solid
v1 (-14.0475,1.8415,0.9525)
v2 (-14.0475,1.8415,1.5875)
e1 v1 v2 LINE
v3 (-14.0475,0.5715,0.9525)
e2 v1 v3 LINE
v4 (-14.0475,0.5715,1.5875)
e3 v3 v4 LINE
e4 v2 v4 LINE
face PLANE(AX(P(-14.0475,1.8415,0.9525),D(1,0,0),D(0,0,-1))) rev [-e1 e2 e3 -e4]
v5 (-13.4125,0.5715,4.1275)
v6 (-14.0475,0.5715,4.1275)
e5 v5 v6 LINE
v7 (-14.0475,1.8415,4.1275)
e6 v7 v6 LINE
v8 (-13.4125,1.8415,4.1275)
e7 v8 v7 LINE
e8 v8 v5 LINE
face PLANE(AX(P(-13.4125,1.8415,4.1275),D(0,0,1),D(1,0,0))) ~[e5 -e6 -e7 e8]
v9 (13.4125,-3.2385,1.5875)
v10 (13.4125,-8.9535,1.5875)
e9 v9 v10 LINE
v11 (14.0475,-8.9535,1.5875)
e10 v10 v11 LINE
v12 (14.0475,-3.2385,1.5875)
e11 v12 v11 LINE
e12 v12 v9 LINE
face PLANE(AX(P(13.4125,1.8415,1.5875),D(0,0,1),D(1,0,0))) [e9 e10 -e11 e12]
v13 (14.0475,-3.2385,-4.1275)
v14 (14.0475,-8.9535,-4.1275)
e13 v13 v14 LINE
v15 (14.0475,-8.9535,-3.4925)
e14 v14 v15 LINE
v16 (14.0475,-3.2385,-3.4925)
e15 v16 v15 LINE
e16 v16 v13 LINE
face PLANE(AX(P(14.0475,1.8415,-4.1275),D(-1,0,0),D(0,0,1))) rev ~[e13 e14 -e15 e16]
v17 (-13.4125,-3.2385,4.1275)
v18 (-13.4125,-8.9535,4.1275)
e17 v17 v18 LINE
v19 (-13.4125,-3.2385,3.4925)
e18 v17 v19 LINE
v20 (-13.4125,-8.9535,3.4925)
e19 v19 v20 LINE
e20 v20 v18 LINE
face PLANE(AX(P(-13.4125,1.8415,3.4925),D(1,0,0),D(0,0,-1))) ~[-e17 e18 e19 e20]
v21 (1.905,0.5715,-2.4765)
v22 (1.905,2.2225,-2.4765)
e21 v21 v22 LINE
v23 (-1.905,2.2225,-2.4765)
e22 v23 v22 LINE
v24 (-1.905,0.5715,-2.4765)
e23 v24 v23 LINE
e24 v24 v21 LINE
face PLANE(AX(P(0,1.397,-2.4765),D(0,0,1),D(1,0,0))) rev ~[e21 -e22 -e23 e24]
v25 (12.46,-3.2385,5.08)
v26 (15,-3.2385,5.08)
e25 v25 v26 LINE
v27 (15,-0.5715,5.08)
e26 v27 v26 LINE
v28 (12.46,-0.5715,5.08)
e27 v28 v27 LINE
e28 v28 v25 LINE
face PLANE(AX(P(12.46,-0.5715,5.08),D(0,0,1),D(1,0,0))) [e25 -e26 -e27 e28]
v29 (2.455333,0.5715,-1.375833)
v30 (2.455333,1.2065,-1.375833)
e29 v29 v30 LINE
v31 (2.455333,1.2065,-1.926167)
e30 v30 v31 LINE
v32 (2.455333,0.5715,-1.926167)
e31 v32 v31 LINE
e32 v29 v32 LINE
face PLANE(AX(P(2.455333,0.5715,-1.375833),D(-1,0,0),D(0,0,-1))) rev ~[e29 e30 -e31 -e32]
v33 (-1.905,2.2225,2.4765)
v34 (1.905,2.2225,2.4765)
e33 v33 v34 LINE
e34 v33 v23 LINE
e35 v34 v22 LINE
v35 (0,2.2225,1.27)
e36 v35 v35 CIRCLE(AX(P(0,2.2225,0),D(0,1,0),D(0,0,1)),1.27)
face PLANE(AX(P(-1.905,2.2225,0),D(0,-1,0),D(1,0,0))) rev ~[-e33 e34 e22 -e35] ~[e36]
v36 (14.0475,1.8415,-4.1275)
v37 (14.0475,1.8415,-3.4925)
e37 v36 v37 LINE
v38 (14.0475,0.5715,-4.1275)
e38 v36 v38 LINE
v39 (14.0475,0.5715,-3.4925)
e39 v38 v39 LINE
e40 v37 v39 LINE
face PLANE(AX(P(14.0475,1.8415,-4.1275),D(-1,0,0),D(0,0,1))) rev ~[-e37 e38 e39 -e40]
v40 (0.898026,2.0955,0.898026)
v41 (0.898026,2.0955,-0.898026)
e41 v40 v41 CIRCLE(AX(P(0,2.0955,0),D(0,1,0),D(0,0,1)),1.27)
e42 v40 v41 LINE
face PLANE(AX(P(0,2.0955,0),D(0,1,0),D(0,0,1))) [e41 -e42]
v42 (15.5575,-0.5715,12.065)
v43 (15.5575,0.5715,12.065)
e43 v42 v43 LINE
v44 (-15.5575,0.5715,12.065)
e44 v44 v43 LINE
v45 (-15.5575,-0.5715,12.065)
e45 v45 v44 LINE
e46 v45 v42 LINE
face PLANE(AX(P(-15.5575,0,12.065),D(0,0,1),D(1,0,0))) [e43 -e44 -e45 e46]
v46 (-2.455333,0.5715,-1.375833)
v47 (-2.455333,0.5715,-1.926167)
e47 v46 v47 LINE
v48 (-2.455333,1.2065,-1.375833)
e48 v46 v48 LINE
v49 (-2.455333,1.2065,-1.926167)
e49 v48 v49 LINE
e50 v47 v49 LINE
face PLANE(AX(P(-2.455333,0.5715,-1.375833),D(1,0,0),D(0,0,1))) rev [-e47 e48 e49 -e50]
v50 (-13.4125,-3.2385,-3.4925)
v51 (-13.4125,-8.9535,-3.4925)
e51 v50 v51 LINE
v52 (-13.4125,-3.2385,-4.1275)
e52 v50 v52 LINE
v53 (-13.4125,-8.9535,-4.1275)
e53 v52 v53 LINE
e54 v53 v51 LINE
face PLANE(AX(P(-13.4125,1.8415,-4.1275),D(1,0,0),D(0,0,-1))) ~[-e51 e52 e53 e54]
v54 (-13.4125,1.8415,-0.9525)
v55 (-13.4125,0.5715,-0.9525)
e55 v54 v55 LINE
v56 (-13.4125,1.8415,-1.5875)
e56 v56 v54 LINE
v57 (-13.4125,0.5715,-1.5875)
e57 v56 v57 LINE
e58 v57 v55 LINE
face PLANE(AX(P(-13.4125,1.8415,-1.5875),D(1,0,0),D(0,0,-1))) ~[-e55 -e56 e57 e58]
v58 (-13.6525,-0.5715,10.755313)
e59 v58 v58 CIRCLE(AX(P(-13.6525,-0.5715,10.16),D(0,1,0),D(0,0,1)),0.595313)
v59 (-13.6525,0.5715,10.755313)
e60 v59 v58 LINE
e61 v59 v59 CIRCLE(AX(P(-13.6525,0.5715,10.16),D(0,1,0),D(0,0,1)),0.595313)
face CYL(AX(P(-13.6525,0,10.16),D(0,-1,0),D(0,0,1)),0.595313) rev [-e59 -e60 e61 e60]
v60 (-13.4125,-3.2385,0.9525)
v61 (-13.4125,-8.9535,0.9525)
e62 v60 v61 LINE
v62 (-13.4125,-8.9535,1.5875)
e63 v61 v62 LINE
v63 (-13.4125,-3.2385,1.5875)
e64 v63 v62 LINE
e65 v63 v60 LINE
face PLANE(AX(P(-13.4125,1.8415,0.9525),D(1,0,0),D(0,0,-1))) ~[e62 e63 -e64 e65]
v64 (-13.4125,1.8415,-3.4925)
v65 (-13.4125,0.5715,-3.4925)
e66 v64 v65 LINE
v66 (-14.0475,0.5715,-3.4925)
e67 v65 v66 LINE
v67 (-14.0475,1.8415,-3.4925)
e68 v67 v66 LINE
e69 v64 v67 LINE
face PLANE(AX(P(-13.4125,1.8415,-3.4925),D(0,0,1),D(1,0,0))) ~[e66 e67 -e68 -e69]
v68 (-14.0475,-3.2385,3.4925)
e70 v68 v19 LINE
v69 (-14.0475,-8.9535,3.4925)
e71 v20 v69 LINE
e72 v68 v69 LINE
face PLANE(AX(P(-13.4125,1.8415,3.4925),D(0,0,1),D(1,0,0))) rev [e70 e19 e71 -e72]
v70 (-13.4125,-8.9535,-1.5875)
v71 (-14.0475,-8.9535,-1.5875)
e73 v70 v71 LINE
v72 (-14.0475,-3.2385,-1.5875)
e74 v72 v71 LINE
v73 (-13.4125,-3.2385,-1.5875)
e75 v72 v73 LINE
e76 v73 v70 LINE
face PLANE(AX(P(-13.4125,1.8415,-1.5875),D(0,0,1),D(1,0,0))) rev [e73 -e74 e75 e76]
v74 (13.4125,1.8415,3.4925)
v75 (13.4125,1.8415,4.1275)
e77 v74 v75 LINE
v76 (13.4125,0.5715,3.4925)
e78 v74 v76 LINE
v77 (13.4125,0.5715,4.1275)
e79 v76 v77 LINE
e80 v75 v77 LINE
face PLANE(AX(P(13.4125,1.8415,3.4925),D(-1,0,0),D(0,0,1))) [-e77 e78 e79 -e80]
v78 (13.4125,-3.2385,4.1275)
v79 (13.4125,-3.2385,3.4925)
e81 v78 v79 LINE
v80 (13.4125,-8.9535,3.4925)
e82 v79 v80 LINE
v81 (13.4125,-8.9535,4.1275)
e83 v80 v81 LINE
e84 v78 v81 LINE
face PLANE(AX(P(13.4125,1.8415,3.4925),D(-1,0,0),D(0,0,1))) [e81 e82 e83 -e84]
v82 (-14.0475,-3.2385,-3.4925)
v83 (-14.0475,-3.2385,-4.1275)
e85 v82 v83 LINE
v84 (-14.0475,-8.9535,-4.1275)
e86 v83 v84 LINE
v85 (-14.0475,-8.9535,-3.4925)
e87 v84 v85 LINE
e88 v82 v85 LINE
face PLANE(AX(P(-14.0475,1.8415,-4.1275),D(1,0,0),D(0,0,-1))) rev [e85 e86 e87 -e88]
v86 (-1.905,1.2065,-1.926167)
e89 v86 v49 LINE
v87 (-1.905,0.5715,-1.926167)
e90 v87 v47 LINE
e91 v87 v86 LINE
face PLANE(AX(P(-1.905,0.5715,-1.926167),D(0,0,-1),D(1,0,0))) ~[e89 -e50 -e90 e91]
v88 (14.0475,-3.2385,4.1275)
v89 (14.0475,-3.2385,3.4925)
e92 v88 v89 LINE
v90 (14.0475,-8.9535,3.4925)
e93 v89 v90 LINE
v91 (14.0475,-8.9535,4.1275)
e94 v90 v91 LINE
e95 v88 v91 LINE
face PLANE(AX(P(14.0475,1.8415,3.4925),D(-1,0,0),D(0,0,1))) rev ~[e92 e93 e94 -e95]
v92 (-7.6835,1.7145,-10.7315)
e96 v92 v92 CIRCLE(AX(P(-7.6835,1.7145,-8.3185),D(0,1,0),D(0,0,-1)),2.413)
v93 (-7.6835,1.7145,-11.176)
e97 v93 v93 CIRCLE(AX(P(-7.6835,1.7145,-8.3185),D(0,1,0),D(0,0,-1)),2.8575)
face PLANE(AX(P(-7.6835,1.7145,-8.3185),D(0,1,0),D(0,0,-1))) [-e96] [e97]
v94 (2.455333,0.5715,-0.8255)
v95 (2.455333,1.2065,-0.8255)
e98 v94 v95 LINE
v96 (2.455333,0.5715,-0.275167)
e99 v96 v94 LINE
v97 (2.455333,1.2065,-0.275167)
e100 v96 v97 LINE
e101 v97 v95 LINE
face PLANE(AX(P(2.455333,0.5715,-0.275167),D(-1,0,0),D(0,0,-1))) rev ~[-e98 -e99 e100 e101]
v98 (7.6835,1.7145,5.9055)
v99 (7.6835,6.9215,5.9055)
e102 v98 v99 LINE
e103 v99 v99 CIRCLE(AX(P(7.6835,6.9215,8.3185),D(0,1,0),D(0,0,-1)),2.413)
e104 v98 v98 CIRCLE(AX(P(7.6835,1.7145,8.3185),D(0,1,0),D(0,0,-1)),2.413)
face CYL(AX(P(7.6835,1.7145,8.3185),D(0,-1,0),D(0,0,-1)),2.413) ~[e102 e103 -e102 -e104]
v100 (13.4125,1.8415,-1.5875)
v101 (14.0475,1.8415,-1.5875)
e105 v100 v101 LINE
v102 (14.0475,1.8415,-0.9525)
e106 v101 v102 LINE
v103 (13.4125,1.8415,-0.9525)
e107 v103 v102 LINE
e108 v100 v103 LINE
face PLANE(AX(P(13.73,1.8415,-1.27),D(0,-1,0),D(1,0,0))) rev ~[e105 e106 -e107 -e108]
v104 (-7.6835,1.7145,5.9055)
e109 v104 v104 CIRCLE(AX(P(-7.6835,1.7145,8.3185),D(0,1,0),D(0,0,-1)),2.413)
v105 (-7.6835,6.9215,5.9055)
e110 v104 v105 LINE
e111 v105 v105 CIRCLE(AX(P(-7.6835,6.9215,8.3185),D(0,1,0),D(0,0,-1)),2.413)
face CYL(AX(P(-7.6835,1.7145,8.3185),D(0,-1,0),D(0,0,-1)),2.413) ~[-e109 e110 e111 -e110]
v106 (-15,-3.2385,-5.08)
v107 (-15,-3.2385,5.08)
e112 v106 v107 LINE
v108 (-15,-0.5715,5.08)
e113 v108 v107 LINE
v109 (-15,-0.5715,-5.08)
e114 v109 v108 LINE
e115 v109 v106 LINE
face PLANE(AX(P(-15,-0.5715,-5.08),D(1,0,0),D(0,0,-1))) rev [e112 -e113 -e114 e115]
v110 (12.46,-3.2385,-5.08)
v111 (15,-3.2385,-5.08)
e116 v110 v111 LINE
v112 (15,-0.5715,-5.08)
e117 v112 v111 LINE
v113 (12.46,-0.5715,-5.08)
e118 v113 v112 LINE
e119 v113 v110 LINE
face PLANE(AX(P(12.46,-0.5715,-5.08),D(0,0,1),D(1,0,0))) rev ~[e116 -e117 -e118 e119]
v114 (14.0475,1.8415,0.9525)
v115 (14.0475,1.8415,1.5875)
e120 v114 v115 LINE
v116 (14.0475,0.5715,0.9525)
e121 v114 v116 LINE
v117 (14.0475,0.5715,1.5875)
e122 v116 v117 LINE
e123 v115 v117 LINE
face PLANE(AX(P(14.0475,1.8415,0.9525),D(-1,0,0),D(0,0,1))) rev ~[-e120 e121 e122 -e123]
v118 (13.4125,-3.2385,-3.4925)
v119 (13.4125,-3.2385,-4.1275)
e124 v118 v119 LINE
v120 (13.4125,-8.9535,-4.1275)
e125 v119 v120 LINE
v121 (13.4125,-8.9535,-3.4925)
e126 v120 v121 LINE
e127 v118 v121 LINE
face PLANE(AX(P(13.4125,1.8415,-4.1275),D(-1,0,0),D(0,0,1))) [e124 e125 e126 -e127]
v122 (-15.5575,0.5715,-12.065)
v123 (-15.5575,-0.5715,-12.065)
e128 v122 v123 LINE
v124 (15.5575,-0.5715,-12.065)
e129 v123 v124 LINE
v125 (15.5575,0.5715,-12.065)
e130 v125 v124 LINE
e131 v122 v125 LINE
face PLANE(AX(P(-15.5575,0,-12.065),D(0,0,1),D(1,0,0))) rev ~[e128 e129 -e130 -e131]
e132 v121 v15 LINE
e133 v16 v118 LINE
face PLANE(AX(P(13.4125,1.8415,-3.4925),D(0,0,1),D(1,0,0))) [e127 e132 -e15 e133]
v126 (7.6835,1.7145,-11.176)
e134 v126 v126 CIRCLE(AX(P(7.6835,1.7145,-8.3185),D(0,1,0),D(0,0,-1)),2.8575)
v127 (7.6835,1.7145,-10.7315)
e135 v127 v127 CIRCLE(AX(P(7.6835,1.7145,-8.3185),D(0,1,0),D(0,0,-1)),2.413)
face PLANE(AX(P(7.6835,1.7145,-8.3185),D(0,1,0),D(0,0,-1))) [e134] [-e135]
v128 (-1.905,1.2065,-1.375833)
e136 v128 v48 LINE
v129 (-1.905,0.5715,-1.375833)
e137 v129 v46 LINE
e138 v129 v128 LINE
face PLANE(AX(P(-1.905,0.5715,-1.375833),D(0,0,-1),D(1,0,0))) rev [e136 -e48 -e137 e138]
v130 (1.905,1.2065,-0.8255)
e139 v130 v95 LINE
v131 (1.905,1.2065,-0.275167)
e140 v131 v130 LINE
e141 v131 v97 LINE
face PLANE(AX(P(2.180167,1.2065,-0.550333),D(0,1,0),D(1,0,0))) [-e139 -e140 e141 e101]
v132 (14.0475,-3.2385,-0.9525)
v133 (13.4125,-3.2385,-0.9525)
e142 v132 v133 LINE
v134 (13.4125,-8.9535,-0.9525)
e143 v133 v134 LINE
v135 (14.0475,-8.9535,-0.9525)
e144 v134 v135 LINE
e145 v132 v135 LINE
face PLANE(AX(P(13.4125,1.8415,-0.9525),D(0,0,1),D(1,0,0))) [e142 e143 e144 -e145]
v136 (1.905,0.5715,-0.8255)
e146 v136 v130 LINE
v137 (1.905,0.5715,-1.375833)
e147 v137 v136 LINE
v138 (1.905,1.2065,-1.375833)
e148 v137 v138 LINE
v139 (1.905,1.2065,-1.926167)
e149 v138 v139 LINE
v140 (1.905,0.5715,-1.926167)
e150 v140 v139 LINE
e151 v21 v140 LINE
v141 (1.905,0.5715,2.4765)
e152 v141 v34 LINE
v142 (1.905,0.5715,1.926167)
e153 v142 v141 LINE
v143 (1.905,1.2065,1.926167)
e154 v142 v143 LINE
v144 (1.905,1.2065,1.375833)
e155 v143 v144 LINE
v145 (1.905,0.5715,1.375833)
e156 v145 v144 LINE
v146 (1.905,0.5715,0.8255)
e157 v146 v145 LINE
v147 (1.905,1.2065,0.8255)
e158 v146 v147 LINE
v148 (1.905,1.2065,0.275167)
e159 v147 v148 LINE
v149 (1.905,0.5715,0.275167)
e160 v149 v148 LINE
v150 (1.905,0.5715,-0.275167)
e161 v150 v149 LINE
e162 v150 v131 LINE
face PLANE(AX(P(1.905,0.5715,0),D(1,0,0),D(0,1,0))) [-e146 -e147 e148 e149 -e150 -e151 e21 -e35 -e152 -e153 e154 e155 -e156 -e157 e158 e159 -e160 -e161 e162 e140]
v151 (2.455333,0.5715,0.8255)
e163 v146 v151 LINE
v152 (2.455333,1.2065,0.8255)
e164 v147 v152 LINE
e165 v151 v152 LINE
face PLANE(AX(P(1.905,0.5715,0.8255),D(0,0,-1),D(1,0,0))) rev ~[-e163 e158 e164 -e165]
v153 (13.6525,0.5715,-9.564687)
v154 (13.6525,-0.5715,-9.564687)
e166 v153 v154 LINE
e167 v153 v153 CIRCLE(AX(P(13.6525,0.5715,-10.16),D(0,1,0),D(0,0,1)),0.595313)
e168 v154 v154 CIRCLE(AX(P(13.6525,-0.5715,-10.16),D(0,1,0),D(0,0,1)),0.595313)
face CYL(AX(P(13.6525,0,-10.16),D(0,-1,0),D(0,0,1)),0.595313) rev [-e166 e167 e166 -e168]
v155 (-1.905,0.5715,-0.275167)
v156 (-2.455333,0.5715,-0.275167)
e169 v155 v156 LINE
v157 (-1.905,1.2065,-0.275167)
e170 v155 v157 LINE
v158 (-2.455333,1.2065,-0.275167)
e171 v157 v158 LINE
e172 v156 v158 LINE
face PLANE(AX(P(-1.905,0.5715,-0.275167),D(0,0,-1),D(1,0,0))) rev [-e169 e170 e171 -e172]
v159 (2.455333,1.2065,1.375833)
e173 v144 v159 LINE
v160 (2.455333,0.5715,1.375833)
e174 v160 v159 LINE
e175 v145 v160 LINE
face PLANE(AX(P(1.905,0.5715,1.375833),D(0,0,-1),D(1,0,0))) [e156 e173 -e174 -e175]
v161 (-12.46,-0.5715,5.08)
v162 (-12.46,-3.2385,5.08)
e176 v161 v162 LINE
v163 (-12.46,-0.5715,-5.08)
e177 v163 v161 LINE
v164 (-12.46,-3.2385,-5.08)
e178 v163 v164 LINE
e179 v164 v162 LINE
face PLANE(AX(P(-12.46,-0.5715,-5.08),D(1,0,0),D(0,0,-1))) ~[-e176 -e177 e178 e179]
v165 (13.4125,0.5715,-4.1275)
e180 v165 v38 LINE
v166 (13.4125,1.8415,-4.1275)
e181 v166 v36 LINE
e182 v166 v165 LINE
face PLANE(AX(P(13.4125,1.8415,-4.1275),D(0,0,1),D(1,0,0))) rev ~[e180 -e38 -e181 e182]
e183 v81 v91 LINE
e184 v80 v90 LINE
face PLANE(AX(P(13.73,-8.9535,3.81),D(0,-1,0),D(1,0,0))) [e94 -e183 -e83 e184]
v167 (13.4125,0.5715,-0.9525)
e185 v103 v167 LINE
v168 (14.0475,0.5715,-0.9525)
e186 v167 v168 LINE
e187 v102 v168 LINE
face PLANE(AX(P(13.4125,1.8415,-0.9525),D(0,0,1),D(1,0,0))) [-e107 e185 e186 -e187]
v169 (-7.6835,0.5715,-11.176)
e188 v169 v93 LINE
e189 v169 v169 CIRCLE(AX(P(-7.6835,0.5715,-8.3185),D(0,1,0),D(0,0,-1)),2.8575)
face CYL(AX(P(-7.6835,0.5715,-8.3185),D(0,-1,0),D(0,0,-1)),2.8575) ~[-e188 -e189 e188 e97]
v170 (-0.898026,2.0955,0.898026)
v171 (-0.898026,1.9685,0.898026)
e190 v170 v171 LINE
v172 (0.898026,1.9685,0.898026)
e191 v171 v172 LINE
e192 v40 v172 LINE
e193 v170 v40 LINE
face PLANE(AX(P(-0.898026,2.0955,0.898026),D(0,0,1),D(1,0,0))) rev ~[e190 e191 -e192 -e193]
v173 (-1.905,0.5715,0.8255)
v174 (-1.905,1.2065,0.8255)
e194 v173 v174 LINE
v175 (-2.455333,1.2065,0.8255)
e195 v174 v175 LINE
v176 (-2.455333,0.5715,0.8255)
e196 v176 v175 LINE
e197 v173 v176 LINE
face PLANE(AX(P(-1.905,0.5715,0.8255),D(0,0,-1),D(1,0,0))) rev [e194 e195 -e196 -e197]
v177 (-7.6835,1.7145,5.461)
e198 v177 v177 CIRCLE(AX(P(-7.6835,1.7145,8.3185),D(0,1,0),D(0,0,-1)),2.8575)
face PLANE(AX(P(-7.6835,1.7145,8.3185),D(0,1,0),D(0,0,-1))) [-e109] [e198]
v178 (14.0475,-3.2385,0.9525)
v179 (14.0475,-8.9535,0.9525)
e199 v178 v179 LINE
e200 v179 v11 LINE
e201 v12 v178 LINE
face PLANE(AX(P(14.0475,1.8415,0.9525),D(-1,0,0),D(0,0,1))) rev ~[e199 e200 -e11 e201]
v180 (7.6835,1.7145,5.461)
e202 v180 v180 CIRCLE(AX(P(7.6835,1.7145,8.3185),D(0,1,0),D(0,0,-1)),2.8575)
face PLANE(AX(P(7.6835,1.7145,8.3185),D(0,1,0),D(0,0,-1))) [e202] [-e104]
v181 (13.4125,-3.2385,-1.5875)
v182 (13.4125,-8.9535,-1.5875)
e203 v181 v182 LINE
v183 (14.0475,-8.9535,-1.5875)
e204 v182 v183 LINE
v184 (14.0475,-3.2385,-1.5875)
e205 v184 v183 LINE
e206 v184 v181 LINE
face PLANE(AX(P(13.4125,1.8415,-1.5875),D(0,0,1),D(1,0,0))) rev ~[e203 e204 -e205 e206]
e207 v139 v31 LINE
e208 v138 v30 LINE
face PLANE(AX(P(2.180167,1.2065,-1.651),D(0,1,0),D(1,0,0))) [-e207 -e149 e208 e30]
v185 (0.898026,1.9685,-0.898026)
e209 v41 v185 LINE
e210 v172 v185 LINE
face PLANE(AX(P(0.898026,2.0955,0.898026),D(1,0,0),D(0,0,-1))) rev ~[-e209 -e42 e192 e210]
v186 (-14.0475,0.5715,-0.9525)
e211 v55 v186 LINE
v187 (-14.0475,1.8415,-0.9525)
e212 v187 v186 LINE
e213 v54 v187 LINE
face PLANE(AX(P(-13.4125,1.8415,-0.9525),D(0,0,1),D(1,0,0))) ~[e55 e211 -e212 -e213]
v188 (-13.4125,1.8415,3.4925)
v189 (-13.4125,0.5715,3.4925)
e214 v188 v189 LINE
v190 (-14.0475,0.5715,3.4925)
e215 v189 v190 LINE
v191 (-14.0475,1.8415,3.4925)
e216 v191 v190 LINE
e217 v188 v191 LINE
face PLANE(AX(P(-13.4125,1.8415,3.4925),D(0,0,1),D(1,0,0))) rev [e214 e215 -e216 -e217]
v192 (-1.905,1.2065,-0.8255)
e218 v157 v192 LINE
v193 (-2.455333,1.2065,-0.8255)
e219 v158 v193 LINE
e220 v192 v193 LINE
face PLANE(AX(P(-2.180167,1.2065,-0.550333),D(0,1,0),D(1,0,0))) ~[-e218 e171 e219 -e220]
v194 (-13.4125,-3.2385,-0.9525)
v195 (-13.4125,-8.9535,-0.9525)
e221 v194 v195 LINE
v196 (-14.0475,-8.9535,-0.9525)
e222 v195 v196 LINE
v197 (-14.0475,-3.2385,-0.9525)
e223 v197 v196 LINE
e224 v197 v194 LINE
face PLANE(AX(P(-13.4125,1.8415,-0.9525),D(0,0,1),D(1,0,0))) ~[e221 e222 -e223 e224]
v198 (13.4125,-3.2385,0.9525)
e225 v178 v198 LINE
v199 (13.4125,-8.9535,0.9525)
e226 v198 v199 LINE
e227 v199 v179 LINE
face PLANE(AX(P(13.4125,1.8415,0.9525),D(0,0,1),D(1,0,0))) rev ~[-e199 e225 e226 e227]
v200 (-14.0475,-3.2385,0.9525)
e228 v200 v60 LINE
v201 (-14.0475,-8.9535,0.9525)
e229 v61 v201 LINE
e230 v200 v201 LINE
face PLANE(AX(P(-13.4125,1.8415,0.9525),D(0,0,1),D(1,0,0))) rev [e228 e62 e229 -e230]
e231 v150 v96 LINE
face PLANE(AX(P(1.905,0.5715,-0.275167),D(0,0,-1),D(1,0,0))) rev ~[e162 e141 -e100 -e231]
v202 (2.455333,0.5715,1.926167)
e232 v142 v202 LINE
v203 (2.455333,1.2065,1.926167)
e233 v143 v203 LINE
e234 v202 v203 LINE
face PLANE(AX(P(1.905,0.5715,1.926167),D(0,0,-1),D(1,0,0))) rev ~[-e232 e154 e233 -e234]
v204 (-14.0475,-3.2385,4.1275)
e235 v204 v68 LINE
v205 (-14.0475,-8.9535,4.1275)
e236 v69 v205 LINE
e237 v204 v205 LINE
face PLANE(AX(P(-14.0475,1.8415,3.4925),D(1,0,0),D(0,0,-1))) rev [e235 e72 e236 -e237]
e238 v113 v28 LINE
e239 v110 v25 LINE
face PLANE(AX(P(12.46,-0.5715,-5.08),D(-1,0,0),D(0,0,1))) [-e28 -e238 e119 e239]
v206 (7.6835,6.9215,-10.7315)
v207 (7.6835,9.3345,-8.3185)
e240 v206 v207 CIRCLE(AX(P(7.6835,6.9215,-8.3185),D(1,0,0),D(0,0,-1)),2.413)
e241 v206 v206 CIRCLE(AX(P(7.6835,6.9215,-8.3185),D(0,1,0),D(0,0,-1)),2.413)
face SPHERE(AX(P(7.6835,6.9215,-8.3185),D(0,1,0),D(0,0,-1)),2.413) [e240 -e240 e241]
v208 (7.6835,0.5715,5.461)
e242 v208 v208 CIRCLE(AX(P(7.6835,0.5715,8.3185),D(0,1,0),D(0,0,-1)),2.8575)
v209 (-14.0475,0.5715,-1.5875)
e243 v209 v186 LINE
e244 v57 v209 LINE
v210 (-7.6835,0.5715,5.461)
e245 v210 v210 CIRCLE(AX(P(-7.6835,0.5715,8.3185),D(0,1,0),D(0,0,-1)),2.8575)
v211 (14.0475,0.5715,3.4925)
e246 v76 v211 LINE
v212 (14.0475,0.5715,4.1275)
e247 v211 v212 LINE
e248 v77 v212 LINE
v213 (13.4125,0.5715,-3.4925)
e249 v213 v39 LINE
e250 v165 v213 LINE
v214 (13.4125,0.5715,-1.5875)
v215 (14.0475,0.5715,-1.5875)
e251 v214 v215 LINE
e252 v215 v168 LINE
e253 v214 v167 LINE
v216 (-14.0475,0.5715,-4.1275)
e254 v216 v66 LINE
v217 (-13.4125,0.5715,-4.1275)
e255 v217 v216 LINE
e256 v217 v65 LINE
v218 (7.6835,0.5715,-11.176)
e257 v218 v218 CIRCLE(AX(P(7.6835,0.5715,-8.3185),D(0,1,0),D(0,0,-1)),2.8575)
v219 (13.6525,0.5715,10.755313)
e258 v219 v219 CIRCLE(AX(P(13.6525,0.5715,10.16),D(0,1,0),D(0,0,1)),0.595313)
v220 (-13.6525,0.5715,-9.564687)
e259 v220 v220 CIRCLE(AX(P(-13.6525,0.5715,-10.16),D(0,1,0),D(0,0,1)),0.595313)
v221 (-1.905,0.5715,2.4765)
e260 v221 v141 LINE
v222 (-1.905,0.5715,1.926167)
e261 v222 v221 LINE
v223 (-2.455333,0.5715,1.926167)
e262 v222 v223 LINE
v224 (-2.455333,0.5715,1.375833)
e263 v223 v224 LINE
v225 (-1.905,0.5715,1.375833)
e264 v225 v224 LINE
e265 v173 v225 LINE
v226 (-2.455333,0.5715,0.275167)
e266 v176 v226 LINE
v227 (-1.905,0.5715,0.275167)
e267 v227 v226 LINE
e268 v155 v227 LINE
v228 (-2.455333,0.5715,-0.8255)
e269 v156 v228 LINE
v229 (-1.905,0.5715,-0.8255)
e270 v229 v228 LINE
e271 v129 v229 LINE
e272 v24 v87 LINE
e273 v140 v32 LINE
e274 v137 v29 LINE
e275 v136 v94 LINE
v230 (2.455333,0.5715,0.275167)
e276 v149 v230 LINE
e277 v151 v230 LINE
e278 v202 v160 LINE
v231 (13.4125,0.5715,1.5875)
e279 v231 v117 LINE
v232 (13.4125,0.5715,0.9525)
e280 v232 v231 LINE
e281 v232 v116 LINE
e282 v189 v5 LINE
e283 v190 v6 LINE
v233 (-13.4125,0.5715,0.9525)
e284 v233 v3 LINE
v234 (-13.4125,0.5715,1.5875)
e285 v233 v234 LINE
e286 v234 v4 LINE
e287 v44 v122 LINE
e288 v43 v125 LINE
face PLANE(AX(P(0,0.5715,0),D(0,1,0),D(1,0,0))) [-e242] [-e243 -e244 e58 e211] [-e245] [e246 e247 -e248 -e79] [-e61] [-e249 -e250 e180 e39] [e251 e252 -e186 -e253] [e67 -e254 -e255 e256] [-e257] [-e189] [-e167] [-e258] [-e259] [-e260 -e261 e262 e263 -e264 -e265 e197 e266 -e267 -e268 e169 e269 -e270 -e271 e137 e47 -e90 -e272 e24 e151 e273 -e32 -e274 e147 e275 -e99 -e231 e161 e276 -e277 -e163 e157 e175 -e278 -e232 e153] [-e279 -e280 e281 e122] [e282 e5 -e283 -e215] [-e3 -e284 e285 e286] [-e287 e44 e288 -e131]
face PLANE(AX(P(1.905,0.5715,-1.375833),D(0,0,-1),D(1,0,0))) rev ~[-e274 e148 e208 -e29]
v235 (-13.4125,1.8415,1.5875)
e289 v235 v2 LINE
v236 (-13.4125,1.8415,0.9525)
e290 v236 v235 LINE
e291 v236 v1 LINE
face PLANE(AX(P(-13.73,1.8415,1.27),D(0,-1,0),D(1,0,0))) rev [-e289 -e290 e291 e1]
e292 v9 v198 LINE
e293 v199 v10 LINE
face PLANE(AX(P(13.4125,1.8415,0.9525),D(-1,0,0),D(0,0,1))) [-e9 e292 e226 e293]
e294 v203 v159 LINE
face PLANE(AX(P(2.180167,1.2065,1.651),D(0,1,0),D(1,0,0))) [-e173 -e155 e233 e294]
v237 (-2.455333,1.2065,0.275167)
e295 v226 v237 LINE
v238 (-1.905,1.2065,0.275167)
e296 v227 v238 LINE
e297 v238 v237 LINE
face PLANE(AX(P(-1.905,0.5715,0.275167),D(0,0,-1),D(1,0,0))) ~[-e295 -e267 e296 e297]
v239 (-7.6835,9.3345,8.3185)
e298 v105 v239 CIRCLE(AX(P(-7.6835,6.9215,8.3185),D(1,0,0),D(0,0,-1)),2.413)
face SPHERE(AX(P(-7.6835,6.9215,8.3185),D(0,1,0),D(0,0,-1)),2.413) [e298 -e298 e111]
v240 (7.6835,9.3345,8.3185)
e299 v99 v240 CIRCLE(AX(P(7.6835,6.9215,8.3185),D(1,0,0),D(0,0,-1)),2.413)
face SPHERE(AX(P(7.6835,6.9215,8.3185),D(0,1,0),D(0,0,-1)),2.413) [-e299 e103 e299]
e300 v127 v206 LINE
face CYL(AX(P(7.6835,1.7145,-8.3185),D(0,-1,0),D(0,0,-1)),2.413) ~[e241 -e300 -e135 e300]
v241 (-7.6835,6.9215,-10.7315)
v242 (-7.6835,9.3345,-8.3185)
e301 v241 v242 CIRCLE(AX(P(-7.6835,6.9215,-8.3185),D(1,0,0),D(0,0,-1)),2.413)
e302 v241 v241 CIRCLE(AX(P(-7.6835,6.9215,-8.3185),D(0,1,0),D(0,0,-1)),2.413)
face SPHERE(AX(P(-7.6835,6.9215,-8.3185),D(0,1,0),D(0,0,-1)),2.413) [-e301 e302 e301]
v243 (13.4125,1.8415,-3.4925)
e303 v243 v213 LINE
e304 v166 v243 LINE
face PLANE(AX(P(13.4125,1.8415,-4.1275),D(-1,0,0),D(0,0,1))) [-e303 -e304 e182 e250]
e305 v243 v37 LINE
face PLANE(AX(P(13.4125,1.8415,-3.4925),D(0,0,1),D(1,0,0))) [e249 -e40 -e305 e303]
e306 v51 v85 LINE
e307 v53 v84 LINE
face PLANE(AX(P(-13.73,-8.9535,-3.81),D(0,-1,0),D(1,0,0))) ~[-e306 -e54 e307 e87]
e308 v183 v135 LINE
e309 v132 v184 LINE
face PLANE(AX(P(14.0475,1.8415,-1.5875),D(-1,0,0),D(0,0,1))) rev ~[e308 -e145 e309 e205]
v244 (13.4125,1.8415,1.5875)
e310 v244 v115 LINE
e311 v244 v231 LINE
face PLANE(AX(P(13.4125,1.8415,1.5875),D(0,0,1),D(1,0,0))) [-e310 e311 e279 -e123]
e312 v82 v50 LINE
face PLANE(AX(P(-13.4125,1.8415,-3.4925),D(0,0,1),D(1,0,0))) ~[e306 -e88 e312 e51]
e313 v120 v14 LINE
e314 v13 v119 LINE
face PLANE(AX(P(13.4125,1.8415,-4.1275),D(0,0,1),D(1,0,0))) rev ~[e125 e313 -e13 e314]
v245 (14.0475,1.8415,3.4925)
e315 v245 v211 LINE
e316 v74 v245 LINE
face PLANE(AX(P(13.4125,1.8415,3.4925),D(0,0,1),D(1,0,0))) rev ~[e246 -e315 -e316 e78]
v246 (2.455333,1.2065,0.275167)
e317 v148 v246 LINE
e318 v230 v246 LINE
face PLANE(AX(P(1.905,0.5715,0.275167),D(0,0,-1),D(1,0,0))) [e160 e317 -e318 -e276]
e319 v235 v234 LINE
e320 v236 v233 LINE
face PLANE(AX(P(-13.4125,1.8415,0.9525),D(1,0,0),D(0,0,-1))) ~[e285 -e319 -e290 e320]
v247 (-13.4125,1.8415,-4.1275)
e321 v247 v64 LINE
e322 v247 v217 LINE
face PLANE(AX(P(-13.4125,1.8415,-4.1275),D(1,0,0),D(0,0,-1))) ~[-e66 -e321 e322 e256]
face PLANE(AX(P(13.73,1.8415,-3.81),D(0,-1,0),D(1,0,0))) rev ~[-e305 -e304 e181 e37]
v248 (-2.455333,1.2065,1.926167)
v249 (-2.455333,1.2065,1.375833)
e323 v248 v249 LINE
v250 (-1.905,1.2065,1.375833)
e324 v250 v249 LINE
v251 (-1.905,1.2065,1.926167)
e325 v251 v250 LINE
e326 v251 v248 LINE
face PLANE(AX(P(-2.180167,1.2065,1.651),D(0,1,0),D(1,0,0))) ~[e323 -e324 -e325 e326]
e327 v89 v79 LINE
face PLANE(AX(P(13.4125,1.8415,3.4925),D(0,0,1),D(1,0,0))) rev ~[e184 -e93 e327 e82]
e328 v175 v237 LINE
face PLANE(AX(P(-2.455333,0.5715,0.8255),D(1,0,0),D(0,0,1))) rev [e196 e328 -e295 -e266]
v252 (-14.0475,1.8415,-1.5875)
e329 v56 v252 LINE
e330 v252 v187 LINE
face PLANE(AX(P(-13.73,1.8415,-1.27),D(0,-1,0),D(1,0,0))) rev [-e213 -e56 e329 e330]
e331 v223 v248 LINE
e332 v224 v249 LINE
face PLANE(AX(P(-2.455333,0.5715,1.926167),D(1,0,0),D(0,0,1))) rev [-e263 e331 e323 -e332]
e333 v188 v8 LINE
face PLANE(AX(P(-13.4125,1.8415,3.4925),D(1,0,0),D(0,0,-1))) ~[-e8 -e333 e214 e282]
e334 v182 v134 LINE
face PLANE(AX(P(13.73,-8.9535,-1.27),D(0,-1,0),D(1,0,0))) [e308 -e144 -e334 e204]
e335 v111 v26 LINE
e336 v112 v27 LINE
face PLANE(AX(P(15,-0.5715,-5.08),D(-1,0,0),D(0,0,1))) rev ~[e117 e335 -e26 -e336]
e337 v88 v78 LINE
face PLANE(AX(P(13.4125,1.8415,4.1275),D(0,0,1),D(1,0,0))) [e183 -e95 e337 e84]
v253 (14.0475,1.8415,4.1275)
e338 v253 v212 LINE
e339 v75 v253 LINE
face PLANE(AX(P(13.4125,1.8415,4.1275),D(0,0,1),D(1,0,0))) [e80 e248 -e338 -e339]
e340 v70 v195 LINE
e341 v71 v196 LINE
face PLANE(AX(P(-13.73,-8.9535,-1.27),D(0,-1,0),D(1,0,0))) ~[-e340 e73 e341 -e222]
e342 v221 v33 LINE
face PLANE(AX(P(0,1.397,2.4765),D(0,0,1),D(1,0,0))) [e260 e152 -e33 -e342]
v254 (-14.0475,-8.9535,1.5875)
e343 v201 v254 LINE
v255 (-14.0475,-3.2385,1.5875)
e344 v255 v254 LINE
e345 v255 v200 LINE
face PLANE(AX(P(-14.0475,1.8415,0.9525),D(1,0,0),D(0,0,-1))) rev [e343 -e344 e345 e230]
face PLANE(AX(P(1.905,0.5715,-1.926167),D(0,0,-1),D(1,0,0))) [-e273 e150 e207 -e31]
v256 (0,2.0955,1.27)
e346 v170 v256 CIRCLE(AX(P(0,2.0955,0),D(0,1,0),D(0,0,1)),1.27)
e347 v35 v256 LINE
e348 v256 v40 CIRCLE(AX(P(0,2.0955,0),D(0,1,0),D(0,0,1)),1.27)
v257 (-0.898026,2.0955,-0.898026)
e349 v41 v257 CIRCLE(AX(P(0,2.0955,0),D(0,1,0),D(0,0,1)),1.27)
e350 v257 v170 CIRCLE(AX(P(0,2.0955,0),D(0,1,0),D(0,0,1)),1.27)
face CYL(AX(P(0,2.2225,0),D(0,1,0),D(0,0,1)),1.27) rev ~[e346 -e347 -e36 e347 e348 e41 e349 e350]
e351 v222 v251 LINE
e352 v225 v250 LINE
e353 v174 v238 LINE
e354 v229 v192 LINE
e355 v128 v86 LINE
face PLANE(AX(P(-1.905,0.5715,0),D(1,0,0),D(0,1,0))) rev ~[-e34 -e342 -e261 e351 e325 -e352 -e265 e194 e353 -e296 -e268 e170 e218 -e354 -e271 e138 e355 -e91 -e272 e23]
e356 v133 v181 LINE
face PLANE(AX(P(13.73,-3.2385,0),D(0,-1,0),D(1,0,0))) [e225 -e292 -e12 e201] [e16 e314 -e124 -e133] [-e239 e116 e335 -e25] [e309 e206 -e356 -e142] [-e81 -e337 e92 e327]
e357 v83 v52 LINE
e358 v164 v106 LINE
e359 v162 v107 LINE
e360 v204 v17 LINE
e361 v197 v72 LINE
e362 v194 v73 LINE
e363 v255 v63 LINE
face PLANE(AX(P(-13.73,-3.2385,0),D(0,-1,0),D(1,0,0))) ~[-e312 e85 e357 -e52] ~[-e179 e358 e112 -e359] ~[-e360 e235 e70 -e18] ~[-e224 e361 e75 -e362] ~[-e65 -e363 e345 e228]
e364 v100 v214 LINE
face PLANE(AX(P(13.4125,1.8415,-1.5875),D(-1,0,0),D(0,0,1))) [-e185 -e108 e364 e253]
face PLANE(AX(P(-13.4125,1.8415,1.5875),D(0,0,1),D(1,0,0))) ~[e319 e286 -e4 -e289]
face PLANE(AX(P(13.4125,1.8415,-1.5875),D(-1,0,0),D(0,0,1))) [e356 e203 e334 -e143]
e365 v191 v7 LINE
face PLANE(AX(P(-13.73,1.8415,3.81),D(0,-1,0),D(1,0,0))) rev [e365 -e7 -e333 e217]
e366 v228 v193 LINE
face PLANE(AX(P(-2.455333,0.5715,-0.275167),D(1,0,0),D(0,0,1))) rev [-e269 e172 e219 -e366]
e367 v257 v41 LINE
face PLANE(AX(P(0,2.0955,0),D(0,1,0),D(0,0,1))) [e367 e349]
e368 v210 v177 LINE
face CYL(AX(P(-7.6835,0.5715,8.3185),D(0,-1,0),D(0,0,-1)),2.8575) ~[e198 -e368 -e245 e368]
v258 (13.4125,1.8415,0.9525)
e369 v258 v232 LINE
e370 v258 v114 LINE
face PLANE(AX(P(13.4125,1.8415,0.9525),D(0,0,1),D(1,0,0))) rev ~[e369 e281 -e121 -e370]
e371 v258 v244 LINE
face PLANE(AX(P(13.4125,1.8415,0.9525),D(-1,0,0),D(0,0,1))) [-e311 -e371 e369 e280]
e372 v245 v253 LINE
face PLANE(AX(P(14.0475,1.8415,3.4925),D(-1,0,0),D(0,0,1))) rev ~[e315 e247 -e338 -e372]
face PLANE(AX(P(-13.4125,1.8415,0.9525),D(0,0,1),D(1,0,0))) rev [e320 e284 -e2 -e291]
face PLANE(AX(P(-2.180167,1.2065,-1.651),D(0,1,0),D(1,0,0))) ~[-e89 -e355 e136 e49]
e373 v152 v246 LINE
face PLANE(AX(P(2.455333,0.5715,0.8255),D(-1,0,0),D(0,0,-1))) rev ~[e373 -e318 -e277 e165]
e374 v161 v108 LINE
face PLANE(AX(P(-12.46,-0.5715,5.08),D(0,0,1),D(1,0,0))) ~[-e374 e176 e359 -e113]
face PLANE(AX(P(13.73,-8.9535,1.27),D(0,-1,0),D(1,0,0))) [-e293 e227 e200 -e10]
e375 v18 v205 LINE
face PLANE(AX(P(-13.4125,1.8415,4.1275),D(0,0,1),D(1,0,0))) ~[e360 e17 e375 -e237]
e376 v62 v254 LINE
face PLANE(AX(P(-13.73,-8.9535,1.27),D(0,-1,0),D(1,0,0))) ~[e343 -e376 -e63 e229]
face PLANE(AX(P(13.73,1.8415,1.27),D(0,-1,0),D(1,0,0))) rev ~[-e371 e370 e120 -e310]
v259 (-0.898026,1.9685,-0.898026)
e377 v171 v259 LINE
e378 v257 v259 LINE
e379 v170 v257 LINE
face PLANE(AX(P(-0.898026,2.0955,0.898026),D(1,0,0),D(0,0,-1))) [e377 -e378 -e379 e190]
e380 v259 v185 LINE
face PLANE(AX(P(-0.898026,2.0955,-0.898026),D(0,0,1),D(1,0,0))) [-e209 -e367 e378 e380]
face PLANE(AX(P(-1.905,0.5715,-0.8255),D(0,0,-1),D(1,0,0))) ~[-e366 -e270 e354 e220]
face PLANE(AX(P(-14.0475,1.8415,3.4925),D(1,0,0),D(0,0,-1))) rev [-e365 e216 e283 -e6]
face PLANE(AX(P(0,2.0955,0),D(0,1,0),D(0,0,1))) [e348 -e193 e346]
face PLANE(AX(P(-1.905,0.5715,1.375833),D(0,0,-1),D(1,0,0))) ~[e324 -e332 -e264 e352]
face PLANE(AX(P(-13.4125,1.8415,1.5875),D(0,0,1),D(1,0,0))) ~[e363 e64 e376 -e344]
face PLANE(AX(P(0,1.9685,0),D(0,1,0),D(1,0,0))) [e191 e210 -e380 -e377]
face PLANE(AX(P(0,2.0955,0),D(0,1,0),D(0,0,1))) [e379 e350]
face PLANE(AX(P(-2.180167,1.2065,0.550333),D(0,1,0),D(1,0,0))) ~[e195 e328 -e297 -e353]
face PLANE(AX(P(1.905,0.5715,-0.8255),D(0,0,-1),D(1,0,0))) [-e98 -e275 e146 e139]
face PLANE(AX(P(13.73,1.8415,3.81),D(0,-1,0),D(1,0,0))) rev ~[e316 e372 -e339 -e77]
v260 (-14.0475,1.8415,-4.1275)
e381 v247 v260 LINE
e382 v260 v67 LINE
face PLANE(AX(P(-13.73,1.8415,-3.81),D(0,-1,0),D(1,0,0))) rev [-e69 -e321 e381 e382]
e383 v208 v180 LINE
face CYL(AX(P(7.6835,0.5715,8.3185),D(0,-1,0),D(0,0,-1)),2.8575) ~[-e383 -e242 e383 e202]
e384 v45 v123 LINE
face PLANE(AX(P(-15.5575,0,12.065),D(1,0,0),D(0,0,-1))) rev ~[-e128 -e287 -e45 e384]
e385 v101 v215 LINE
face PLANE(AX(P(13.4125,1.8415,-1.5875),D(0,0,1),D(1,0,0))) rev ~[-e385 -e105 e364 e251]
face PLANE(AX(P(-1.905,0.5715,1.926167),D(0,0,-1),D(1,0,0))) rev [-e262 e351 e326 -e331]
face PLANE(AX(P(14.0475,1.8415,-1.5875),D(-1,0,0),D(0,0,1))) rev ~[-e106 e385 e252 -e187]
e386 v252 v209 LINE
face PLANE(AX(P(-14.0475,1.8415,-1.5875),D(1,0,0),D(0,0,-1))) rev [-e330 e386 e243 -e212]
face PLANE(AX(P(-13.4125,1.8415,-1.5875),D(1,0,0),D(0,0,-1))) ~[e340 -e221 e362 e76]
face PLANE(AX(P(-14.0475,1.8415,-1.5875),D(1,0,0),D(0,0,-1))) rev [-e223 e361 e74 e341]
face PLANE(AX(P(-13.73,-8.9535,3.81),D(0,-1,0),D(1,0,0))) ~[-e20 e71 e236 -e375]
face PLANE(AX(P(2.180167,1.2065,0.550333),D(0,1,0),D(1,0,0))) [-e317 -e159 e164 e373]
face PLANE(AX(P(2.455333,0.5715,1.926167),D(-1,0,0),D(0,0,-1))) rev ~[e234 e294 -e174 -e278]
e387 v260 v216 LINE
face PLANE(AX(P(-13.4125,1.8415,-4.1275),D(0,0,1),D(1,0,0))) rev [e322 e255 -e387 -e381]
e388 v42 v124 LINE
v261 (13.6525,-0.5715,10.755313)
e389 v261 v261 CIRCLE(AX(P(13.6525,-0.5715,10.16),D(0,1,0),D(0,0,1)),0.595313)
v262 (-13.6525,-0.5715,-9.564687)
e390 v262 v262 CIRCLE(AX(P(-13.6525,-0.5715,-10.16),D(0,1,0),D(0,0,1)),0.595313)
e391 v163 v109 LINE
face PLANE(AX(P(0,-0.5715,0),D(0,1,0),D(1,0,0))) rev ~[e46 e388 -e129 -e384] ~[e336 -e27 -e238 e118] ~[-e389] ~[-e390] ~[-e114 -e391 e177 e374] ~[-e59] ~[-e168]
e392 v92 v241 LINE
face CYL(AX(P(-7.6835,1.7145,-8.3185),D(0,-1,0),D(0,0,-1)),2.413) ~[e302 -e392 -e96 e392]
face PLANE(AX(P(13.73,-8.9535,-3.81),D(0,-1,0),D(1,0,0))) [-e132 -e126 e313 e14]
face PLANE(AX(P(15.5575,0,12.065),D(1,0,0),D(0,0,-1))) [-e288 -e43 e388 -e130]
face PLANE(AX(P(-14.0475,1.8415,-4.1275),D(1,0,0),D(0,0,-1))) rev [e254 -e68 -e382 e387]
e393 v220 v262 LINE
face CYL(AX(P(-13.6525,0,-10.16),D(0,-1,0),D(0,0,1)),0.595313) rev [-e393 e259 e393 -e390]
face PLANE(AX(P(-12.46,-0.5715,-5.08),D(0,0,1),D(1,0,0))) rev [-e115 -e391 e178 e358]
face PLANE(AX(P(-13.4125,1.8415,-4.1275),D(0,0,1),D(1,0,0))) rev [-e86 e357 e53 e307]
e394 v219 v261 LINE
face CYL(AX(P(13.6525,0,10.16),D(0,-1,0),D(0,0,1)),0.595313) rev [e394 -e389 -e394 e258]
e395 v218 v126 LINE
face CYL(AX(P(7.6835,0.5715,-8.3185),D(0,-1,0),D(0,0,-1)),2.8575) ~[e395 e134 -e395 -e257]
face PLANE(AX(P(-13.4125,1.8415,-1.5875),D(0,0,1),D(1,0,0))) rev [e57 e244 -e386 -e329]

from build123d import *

# Parameters (mm, degrees)
ESQUISSE1_W                     = 31.115
ESQUISSE1_H                     = 24.13
ESQUISSE1_R                     = 0.5953125
BOSS_EXTRU_1_DEPTH              = 0.5715
ESQUISSE2_W                     = 3.81
ESQUISSE2_H                     = 1.651
BOSS_EXTRU_2_DEPTH              = 2.4765
ESQUISSE3_W                     = 0.550333333
ESQUISSE3_H                     = 0.550333334
ESQUISSE3_H_2                   = 0.550333333
BOSS_EXTRU_3_DEPTH              = 0.635
ESQUISSE9_W                     = 2.54
ESQUISSE9_H                     = 10.16
BOSS_EXTRU_6_DEPTH              = 2.667
BOSS_EXTRU_7_START              = -5.08
ESQUISSE10_W                    = 0.635
ESQUISSE10_H                    = 0.635
BOSS_EXTRU_7_DEPTH              = 10.795
ESQUISSE4_R                     = 1.27
ENL_V_MAT_EXTRU_1_DEPTH         = 0.127
ESQUISSE5_W                     = 1.796051224
ESQUISSE5_H                     = 1.796051224
ENL_V_MAT_EXTRU_2_DEPTH         = 0.127
ESQUISSE7_R                     = 2.8575
BOSS_EXTRU_4_DEPTH              = 1.143
ESQUISSE8_R                     = 2.413
BOSS_EXTRU_5_DEPTH              = 7.62
CONG_1_R                        = 2.413
CONG_1_OF_R_P_T_PAR_ESQUISSE1_R = 2.413


with BuildPart() as part:
    # Esquisse1 → Boss.-Extru.1 (new, symmetric)
    with BuildSketch(Plane(origin=(0, 0, 0), x_dir=(1, 0, 0), z_dir=(0, 1, 0))):
        Rectangle(ESQUISSE1_W, ESQUISSE1_H)
        with Locations(Location((-13.6525, 10.16, 0), (0, 0, 270))):
            Circle(ESQUISSE1_R, mode=Mode.SUBTRACT)
        with Locations(Location((13.6525, 10.16, 0), (0, 0, 270))):
            Circle(ESQUISSE1_R, mode=Mode.SUBTRACT)
        with Locations(Location((-13.6525, -10.16, 0), (0, 0, 270))):
            Circle(ESQUISSE1_R, mode=Mode.SUBTRACT)
        with Locations(Location((13.6525, -10.16, 0), (0, 0, 270))):
            Circle(ESQUISSE1_R, mode=Mode.SUBTRACT)
    extrude(amount=BOSS_EXTRU_1_DEPTH, both=True)

    # Esquisse2 → Boss.-Extru.2 (add, symmetric)
    with BuildSketch(Plane.XY):
        with Locations((0, 1.397)):
            Rectangle(ESQUISSE2_W, ESQUISSE2_H)
    extrude(amount=BOSS_EXTRU_2_DEPTH, both=True)

    # Esquisse3 → Boss.-Extru.3 (add)
    with BuildSketch(Plane(origin=(0, 0.5715, 0), x_dir=(1, 0, 0), z_dir=(0, 1, 0))):
        with Locations((2.180166666, 1.651)):
            Rectangle(ESQUISSE3_W, ESQUISSE3_H)
        with Locations((2.180166666, 0.550333334)):
            Rectangle(ESQUISSE3_W, ESQUISSE3_H_2)
        with Locations((2.180166666, -0.550333334)):
            Rectangle(ESQUISSE3_W, ESQUISSE3_H_2)
        with Locations((2.180166666, -1.651)):
            Rectangle(ESQUISSE3_W, ESQUISSE3_H)
    boss_extru_3 = extrude(amount=BOSS_EXTRU_3_DEPTH)

    # Esquisse9 → Boss.-Extru.6 (add)
    with BuildSketch(Plane.XZ.offset(0.5715)):
        with Locations((13.73, 0)):
            Rectangle(ESQUISSE9_W, ESQUISSE9_H)
    boss_extru_6 = extrude(amount=BOSS_EXTRU_6_DEPTH)

    # Esquisse10 → Boss.-Extru.7 (add)
    with BuildSketch(Plane.XZ.offset(3.2385).offset(BOSS_EXTRU_7_START)):
        with Locations((13.73, 3.81)):
            Rectangle(ESQUISSE10_W, ESQUISSE10_H)
        with Locations((13.73, 1.27)):
            Rectangle(ESQUISSE10_W, ESQUISSE10_H)
        with Locations((13.73, -1.27)):
            Rectangle(ESQUISSE10_W, ESQUISSE10_H)
        with Locations((13.73, -3.81)):
            Rectangle(ESQUISSE10_W, ESQUISSE10_H)
    boss_extru_7 = extrude(amount=BOSS_EXTRU_7_DEPTH)

    # Symétrie1: Boss.-Extru.3, Boss.-Extru.7 across plane
    add(boss_extru_3.mirror(Plane(origin=(0, 0, 0), x_dir=(0, 0, 1), z_dir=(1, 0, 0))))
    add(boss_extru_7.mirror(Plane(origin=(0, 0, 0), x_dir=(0, 0, 1), z_dir=(1, 0, 0))))

    # Symétrie2: Boss.-Extru.6 across plane
    add(boss_extru_6.mirror(Plane(origin=(0, 0, 0), x_dir=(0, 0, 1), z_dir=(1, 0, 0))))

    # Esquisse4 → Enlèv. mat.-Extru.1 (cut)
    with BuildSketch(Plane(origin=(0, 2.2225, 0), x_dir=(1, 0, 0), z_dir=(0, 1, 0))):
        with Locations(Location((0, 0, 0), (0, 0, 270))):
            Circle(ESQUISSE4_R)
    extrude(amount=-ENL_V_MAT_EXTRU_1_DEPTH, mode=Mode.SUBTRACT)

    # Esquisse5 → Enlèv. mat.-Extru.2 (cut)
    with BuildSketch(Plane(origin=(0, 2.0955, 0), x_dir=(1, 0, 0), z_dir=(0, 1, 0))):
        Rectangle(ESQUISSE5_W, ESQUISSE5_H)
    extrude(amount=-ENL_V_MAT_EXTRU_2_DEPTH, mode=Mode.SUBTRACT)

    # Esquisse7 → Boss.-Extru.4 (add)
    with BuildSketch(Plane(origin=(0, 0.5715, 0), x_dir=(1, 0, 0), z_dir=(0, 1, 0))):
        with Locations(Location((-7.6835, 8.3185, 0), (0, 0, 90))):
            Circle(ESQUISSE7_R)
    boss_extru_4 = extrude(amount=BOSS_EXTRU_4_DEPTH)

    # Esquisse8 → Boss.-Extru.5 (add)
    with BuildSketch(Plane(origin=(0, 1.7145, 0), x_dir=(1, 0, 0), z_dir=(0, 1, 0))):
        with Locations(Location((-7.6835, 8.3185, 0), (0, 0, 90))):
            Circle(ESQUISSE8_R)
    boss_extru_5 = extrude(amount=BOSS_EXTRU_5_DEPTH)

    # Congé1
    cong_1_edges = [part.edges().sort_by_distance(p)[0] for p in [
        (-7.6835, 9.3345, -5.9055),
    ]]
    fillet(cong_1_edges, radius=CONG_1_R)

    # Répét. par esquisse1: Boss.-Extru.4, Boss.-Extru.5 at 3 more places
    with Locations((15.367, 0, 0), (15.367, 0, 16.637), (0, 0, 16.637)):
        add(boss_extru_4)
        add(boss_extru_5)

    # Congé1 of Répét. par esquisse1
    cong_1_of_r_p_t_par_esquisse1_edges = [part.edges().sort_by_distance(p)[0] for p in [
        (7.6835, 9.3345, -5.9055),
        (7.6835, 9.3345, 10.7315),
        (-7.6835, 9.3345, 10.7315),
    ]]
    fillet(cong_1_of_r_p_t_par_esquisse1_edges, radius=CONG_1_OF_R_P_T_PAR_ESQUISSE1_R)


solid = part.part
